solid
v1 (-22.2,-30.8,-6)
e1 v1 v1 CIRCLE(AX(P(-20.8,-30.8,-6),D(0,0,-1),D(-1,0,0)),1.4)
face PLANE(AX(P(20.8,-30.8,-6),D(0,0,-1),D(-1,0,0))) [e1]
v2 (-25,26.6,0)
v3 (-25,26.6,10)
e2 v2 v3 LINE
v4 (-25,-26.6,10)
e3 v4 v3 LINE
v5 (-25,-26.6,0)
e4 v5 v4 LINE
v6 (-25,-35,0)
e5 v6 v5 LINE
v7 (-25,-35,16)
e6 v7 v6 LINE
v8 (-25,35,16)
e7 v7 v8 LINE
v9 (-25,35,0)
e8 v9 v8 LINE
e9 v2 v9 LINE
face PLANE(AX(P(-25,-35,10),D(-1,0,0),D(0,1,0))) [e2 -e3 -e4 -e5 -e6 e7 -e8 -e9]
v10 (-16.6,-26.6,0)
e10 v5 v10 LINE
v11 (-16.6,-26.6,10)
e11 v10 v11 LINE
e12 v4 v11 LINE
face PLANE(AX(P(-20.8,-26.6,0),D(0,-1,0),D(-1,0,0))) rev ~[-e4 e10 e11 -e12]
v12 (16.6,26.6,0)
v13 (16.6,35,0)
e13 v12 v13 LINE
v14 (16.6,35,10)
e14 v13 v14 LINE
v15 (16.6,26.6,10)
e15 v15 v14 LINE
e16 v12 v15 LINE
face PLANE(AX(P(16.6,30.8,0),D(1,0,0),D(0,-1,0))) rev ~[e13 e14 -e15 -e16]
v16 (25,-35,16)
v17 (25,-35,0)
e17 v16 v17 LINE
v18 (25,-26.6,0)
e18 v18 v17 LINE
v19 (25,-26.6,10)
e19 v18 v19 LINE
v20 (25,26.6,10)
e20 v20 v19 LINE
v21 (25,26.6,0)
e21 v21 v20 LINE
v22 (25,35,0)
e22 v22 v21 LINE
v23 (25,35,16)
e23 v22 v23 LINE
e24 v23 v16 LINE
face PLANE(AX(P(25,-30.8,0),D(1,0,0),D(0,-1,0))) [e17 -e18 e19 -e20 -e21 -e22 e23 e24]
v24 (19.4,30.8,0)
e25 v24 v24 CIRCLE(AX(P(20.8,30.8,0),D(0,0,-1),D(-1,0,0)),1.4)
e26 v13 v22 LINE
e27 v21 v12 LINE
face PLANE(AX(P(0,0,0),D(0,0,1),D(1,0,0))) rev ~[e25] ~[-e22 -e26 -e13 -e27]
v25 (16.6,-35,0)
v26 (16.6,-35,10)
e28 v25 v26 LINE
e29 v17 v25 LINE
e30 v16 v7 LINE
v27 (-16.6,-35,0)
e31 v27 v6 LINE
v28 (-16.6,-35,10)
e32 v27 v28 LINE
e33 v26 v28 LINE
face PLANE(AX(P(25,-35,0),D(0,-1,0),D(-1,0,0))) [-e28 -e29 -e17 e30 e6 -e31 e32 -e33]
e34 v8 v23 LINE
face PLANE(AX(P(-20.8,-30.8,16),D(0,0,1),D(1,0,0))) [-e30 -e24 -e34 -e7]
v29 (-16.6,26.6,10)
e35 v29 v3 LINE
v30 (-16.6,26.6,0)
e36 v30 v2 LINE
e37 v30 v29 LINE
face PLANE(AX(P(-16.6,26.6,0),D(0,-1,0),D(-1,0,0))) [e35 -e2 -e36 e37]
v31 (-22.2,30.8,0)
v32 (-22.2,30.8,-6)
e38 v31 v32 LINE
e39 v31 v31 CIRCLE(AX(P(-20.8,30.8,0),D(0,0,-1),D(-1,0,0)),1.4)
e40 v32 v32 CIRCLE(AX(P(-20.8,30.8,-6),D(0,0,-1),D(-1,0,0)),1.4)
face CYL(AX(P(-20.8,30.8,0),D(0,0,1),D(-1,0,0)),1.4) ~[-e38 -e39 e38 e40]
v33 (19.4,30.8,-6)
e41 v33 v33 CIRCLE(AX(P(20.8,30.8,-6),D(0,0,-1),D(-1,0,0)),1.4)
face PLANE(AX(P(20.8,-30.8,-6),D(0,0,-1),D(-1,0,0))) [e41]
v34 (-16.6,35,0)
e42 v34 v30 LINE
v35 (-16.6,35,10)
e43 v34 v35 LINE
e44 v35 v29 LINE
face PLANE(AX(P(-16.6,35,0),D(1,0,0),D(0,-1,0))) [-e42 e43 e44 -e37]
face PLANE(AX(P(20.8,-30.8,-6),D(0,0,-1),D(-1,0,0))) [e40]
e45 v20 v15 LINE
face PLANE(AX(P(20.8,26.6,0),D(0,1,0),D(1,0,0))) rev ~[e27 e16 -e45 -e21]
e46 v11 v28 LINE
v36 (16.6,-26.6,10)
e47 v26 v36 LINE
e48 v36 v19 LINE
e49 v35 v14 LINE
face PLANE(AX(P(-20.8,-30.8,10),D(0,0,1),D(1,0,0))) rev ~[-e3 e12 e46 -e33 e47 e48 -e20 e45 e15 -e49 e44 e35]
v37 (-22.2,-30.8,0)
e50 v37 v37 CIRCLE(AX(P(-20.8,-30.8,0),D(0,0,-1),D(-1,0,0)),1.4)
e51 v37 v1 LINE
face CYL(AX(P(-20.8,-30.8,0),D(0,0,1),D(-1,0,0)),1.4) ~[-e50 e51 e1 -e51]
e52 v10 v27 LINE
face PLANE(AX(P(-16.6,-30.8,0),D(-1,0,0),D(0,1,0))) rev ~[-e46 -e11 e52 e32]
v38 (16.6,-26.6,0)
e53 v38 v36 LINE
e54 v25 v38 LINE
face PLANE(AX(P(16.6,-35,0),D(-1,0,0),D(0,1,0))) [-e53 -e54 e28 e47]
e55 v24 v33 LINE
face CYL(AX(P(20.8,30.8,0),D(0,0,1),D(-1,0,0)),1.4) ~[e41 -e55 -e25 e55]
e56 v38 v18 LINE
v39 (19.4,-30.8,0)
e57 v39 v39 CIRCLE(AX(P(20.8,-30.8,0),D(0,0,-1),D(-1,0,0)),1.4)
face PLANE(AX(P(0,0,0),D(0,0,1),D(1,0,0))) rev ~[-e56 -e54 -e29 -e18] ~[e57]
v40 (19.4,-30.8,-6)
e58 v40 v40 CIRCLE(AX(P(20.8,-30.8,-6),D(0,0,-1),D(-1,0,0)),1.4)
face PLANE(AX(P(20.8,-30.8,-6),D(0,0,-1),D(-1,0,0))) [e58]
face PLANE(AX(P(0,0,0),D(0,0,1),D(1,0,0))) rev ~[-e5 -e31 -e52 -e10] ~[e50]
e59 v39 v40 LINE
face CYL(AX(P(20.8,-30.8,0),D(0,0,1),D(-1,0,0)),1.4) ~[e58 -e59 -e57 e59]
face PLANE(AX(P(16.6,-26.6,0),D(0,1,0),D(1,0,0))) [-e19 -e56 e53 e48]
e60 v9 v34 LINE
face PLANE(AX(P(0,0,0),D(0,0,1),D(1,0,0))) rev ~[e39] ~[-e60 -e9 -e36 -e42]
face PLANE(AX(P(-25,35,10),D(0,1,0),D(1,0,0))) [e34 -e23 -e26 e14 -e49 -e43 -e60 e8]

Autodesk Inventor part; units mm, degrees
ref_plane "YZ Plane" through (0, 0, 0) normal (1, 0, 0) x (0, 1, 0)
ref_plane "XZ Plane" through (0, 0, 0) normal (0, 1, 0) x (-1, 0, 0)
ref_plane "XY Plane" through (0, 0, 0) normal (0, 0, 1) x (1, 0, 0)
sketch "스케치1" plane through (0, 0, 0) normal (0, 0, 1) x (1, 0, 0)
  circle A0 centre (20.8, -30.8) radius 1.6 projected
  circle A1 centre (20.8, 30.8) radius 1.6 projected
  circle A2 centre (-20.8, -30.8) radius 1.6 projected
  circle A3 centre (-20.8, 30.8) radius 1.6 projected
  line L0 (25, 35) -> (25, -35) projected
  line L1 (-25, 35) -> (25, 35) projected
  line L2 (-25, -35) -> (-25, 35) projected
  line L3 (25, -35) -> (-25, -35) projected
  line L4 (3.4609, -14.6309) -> (3.4609, -15.4416) projected
  line L5 (3.4609, -15.4416) -> (-1.9174, -15.4416) projected
  line L6 (-1.9174, -15.4416) -> (-1.9174, -17.4882) projected
  line L7 (-1.9174, -17.4882) -> (-2.6391, -17.4882) projected
  line L8 (-2.6391, -17.4882) -> (-2.6391, -12.5844) projected
  line L9 (-2.6391, -12.5844) -> (-1.9174, -12.5844) projected
  line L10 (-1.9174, -12.5844) -> (-1.9174, -14.6309) projected
  line L11 (-1.9174, -14.6309) -> (3.4609, -14.6309) projected
  spline S0 degree 3 poles (3.5894, -6.7069) (3.5894, -7.2061) (3.5079, -7.4974) (3.4054, -7.7829) (3.3472, -7.9038) (3.2038, -8.1322) (3.1203, -8.2371) (3.0259, -8.3332) knots 0 0 0 0 0.149781 0.149781 0.269685 0.269685 0.389491 0.389491 0.389491 0.389491 projected
  spline S1 degree 3 poles (3.0259, -8.3332) (2.8735, -8.4928) (2.696, -8.6163) (2.4131, -8.7398) (2.2257, -8.8143) (1.6618, -8.9024) (1.4109, -8.9165) (1.1672, -8.9165) knots 0 0 0 0 0.066182 0.066182 0.092608 0.092608 0.112316 0.112316 0.112316 0.112316 projected
  line L12 (1.1672, -8.9165) -> (-2.6391, -8.9165) projected
  line L13 (-2.6391, -8.9165) -> (-2.6391, -8.1058) projected
  line L14 (-2.6391, -8.1058) -> (1.187, -8.1058) projected
  spline S2 degree 3 poles (1.187, -8.1058) (1.576, -8.1058) (1.7854, -8.0698) (2.0673, -8.0159) (2.2402, -7.948) (2.3981, -7.8438) knots 0 0 0 0 0.116713 0.116713 0.342312 0.342312 0.342312 0.342312 projected
  spline S3 degree 3 poles (2.3981, -7.8438) (2.5057, -7.7728) (2.5951, -7.6834) (2.7648, -7.4325) (2.8129, -7.284) (2.8802, -7.0309) (2.8973, -6.8687) (2.8973, -6.7069) knots 0 0 0 0 0.038677 0.038677 0.09087 0.09087 0.175293 0.175293 0.175293 0.175293 projected
  spline S4 degree 3 poles (2.8973, -6.7069) (2.8973, -6.4866) (2.8694, -6.2573) (2.7554, -5.9796) (2.7065, -5.8804) (2.5606, -5.7003) (2.4845, -5.6319) (2.3981, -5.5749) knots 0 0 0 0 0.066079 0.066079 0.089916 0.089916 0.109159 0.109159 0.109159 0.109159 projected
  spline S5 degree 3 poles (2.3981, -5.5749) (2.2456, -5.4743) (2.0787, -5.4078) (1.787, -5.3484) (1.5677, -5.3129) (1.1672, -5.3129) knots 0 0 0 0 0.054791 0.054791 0.089305 0.089305 0.089305 0.089305 projected
  line L15 (1.1672, -5.3129) -> (-2.6391, -5.3129) projected
  line L16 (-2.6391, -5.3129) -> (-2.6391, -4.5022) projected
  line L17 (-2.6391, -4.5022) -> (1.1672, -4.5022) projected
  spline S6 degree 3 poles (1.1672, -4.5022) (1.7467, -4.5022) (2.0771, -4.578) (2.4094, -4.6758) (2.5476, -4.7346) (2.8054, -4.8878) (2.9214, -4.9794) (3.0259, -5.0855) knots 0 0 0 0 0.173857 0.173857 0.308173 0.308173 0.440658 0.440658 0.440658 0.440658 projected
  spline S7 degree 3 poles (3.0259, -5.0855) (3.188, -5.2476) (3.3119, -5.4359) (3.468, -5.8026) (3.513, -5.9645) (3.576, -6.3201) (3.5894, -6.5148) (3.5894, -6.7069) knots 0 0 0 0 0.068773 0.068773 0.119566 0.119566 0.177287 0.177287 0.177287 0.177287 projected
  line L18 (3.4609, 6.6696) -> (2.838, 6.6696) projected
  line L19 (2.838, 6.6696) -> (2.838, 7.4457) projected
  line L20 (2.838, 7.4457) -> (-2.0163, 7.4457) projected
  line L21 (-2.0163, 7.4457) -> (-2.0163, 6.6696) projected
  line L22 (-2.0163, 6.6696) -> (-2.6391, 6.6696) projected
  line L23 (-2.6391, 6.6696) -> (-2.6391, 9.0325) projected
  line L24 (-2.6391, 9.0325) -> (-2.0163, 9.0325) projected
  line L25 (-2.0163, 9.0325) -> (-2.0163, 8.2564) projected
  line L26 (-2.0163, 8.2564) -> (2.838, 8.2564) projected
  line L27 (2.838, 8.2564) -> (2.838, 9.0325) projected
  line L28 (2.838, 9.0325) -> (3.4609, 9.0325) projected
  line L29 (3.4609, 9.0325) -> (3.4609, 6.6696) projected
  spline S8 degree 3 poles (3.5696, 11.4498) (3.5696, 11.0968) (3.5385, 10.9252) (3.4927, 10.6907) (3.4451, 10.5225) (3.3917, 10.3623) knots 0 0 0 0 0.105897 0.105897 0.361981 0.361981 0.361981 0.361981 projected
  spline S9 degree 3 poles (3.3917, 10.3623) (3.3122, 10.1089) (3.2476, 9.9765) (3.1649, 9.8065) (3.1044, 9.6784) (3.0456, 9.5516) knots 0 0 0 0 0.079656 0.079656 0.305782 0.305782 0.305782 0.305782 projected
  line L30 (3.0456, 9.5516) -> (2.0767, 9.5516) projected
  line L31 (2.0767, 9.5516) -> (2.0767, 9.6109) projected
  spline S10 degree 3 poles (2.0767, 9.6109) (2.1724, 9.7066) (2.276, 9.8355) (2.4013, 9.9909) (2.4887, 10.1245) (2.5661, 10.2584) knots 0 0 0 0 0.0406 0.0406 0.180817 0.180817 0.180817 0.180817 projected
  spline S11 degree 3 poles (2.5661, 10.2584) (2.6936, 10.4889) (2.7578, 10.7089) (2.8422, 11.001) (2.8677, 11.2201) (2.8677, 11.4399) knots 0 0 0 0 0.079015 0.079015 0.285121 0.285121 0.285121 0.285121 projected
  spline S12 degree 3 poles (2.8677, 11.4399) (2.8677, 11.6791) (2.8234, 11.9096) (2.6905, 12.2276) (2.6304, 12.347) (2.4562, 12.5833) (2.363, 12.6815) (2.2596, 12.7696) knots 0 0 0 0 0.071758 0.071758 0.103413 0.103413 0.130661 0.130661 0.130661 0.130661 projected
  spline S13 degree 3 poles (2.2596, 12.7696) (2.0598, 12.9378) (1.8287, 13.0612) (1.3654, 13.2321) (1.0093, 13.3332) (0.4158, 13.3332) knots 0 0 0 0 0.078349 0.078349 0.148171 0.148171 0.148171 0.148171 projected
  spline S14 degree 3 poles (0.4158, 13.3332) (-0.1058, 13.3332) (-0.4504, 13.2487) (-0.927, 13.104) (-1.2002, 12.9774) (-1.428, 12.7894) knots 0 0 0 0 0.156476 0.156476 0.384161 0.384161 0.384161 0.384161 projected
  spline S15 degree 3 poles (-1.428, 12.7894) (-1.6106, 12.6333) (-1.7595, 12.4499) (-1.9192, 12.1338) (-1.9723, 12.0047) (-2.0407, 11.7153) (-2.0558, 11.5784) (-2.0558, 11.4399) knots 0 0 0 0 0.072073 0.072073 0.106242 0.106242 0.13604 0.13604 0.13604 0.13604 projected
  spline S16 degree 3 poles (-2.0558, 11.4399) (-2.0558, 11.0983) (-1.9995, 10.8945) (-1.922, 10.6336) (-1.853, 10.4636) (-1.7642, 10.3029) knots 0 0 0 0 0.102473 0.102473 0.315019 0.315019 0.315019 0.315019 projected
  spline S17 degree 3 poles (-1.7642, 10.3029) (-1.6346, 10.0678) (-1.5778, 9.9965) (-1.419, 9.8036) (-1.3331, 9.7017) (-1.255, 9.6158) knots 0 0 0 0 0.080527 0.080527 0.149615 0.149615 0.149615 0.149615 projected
  line L32 (-1.255, 9.6158) -> (-1.255, 9.5516) projected
  line L33 (-1.255, 9.5516) -> (-2.2338, 9.5516) projected
  spline S18 degree 3 poles (-2.2338, 9.5516) (-2.3342, 9.7386) (-2.4001, 9.8833) (-2.4926, 10.0908) (-2.5452, 10.2254) (-2.5897, 10.3623) knots 0 0 0 0 0.063697 0.063697 0.17369 0.17369 0.17369 0.17369 projected
  spline S19 degree 3 poles (-2.5897, 10.3623) (-2.6578, 10.586) (-2.6908, 10.783) (-2.7347, 11.0489) (-2.7479, 11.2426) (-2.7479, 11.4349) knots 0 0 0 0 0.070178 0.070178 0.245229 0.245229 0.245229 0.245229 projected
  spline S20 degree 3 poles (-2.7479, 11.4349) (-2.7479, 11.8102) (-2.6884, 12.1794) (-2.4851, 12.6671) (-2.4001, 12.8345) (-2.1695, 13.1574) (-2.0458, 13.2939) (-1.9075, 13.4172) knots 0 0 0 0 0.112583 0.112583 0.158498 0.158498 0.198702 0.198702 0.198702 0.198702 projected
  spline S21 degree 3 poles (-1.9075, 13.4172) (-1.6331, 13.6594) (-1.3194, 13.8381) (-0.7236, 14.0548) (-0.2884, 14.1785) (0.4158, 14.1785) knots 0 0 0 0 0.109811 0.109811 0.190197 0.190197 0.190197 0.190197 projected
  spline S22 degree 3 poles (0.4158, 14.1785) (1.1016, 14.1785) (1.5387, 14.0598) (1.9684, 13.9147) (2.1514, 13.8354) (2.4841, 13.645) (2.6333, 13.5376) (2.7688, 13.4123) knots 0 0 0 0 0.205724 0.205724 0.366116 0.366116 0.515054 0.515054 0.515054 0.515054 projected
  spline S23 degree 3 poles (2.7688, 13.4123) (3.001, 13.2001) (3.1844, 12.9521) (3.4019, 12.4833) (3.465, 12.2871) (3.55, 11.8776) (3.5696, 11.6642) (3.5696, 11.4498) knots 0 0 0 0 0.094355 0.094355 0.155041 0.155041 0.218881 0.218881 0.218881 0.218881 projected
  line L34 (3.4609, 0.9453) -> (0.8063, 3.1154) projected
  spline S24 degree 3 poles (0.8063, 3.1154) (0.7091, 2.8546) (0.5712, 2.6157) (0.2499, 2.2703) (0.0734, 2.1207) (-0.2854, 1.9573) (-0.4142, 1.9172) (-0.6904, 1.8622) (-0.8369, 1.8499) (-0.9831, 1.8499) knots 0 0 0 0 0.083518 0.083518 0.141507 0.141507 0.171807 0.171807 0.204564 0.204564 0.204564 0.204564 projected
  spline S25 degree 3 poles (-0.9831, 1.8499) (-1.2, 1.8499) (-1.421, 1.8784) (-1.7689, 2.0145) (-1.898, 2.0959) (-2.134, 2.2962) (-2.234, 2.4122) (-2.3178, 2.542) knots 0 0 0 0 0.065064 0.065064 0.111971 0.111971 0.158744 0.158744 0.158744 0.158744 projected
  spline S26 degree 3 poles (-2.3178, 2.542) (-2.4457, 2.7399) (-2.5352, 2.9539) (-2.6309, 3.4845) (-2.6391, 3.7907) (-2.6391, 4.0942) knots 0 0 0 0 0.070674 0.070674 0.161725 0.161725 0.161725 0.161725 projected
  line L35 (-2.6391, 4.0942) -> (-2.6391, 5.6661) projected
  line L36 (-2.6391, 5.6661) -> (3.4609, 5.6661) projected
  line L37 (3.4609, 5.6661) -> (3.4609, 4.8554) projected
  line L38 (3.4609, 4.8554) -> (1.0337, 4.8554) projected
  line L39 (1.0337, 4.8554) -> (1.0337, 3.9261) projected
  line L40 (1.0337, 3.9261) -> (3.4609, 1.9982) projected
  line L41 (3.4609, 1.9982) -> (3.4609, 0.9453) projected
  spline S27 degree 3 poles (3.5696, -1.9218) (3.5696, -2.2748) (3.5385, -2.4464) (3.4927, -2.6809) (3.4451, -2.849) (3.3917, -3.0093) knots 0 0 0 0 0.105897 0.105897 0.361981 0.361981 0.361981 0.361981 projected
  spline S28 degree 3 poles (3.3917, -3.0093) (3.3122, -3.2627) (3.2476, -3.3951) (3.1649, -3.5651) (3.1044, -3.6932) (3.0456, -3.82) knots 0 0 0 0 0.079656 0.079656 0.305782 0.305782 0.305782 0.305782 projected
  line L42 (3.0456, -3.82) -> (2.0767, -3.82) projected
  line L43 (2.0767, -3.82) -> (2.0767, -3.7607) projected
  spline S29 degree 3 poles (2.0767, -3.7607) (2.1724, -3.665) (2.276, -3.5361) (2.4013, -3.3806) (2.4887, -3.2471) (2.5661, -3.1131) knots 0 0 0 0 0.0406 0.0406 0.180817 0.180817 0.180817 0.180817 projected
  spline S30 degree 3 poles (2.5661, -3.1131) (2.6936, -2.8826) (2.7578, -2.6627) (2.8422, -2.3706) (2.8677, -2.1514) (2.8677, -1.9317) knots 0 0 0 0 0.079015 0.079015 0.285121 0.285121 0.285121 0.285121 projected
  spline S31 degree 3 poles (2.8677, -1.9317) (2.8677, -1.6925) (2.8234, -1.462) (2.6905, -1.144) (2.6304, -1.0246) (2.4562, -0.7882) (2.363, -0.6901) (2.2596, -0.6019) knots 0 0 0 0 0.071758 0.071758 0.103413 0.103413 0.130661 0.130661 0.130661 0.130661 projected
  spline S32 degree 3 poles (2.2596, -0.6019) (2.0598, -0.4338) (1.8287, -0.3103) (1.3654, -0.1394) (1.0093, -0.0384) (0.4158, -0.0384) knots 0 0 0 0 0.078349 0.078349 0.148171 0.148171 0.148171 0.148171 projected
  spline S33 degree 3 poles (0.4158, -0.0384) (-0.1058, -0.0384) (-0.4504, -0.1228) (-0.927, -0.2675) (-1.2002, -0.3941) (-1.428, -0.5822) knots 0 0 0 0 0.156476 0.156476 0.384161 0.384161 0.384161 0.384161 projected
  spline S34 degree 3 poles (-1.428, -0.5822) (-1.6106, -0.7383) (-1.7595, -0.9217) (-1.9192, -1.2377) (-1.9723, -1.3669) (-2.0407, -1.6563) (-2.0558, -1.7931) (-2.0558, -1.9317) knots 0 0 0 0 0.072073 0.072073 0.106242 0.106242 0.13604 0.13604 0.13604 0.13604 projected
  spline S35 degree 3 poles (-2.0558, -1.9317) (-2.0558, -2.2732) (-1.9995, -2.4771) (-1.922, -2.7379) (-1.853, -2.908) (-1.7642, -3.0686) knots 0 0 0 0 0.102473 0.102473 0.315019 0.315019 0.315019 0.315019 projected
  spline S36 degree 3 poles (-1.7642, -3.0686) (-1.6346, -3.3037) (-1.5778, -3.3751) (-1.419, -3.568) (-1.3331, -3.6699) (-1.255, -3.7557) knots 0 0 0 0 0.080527 0.080527 0.149615 0.149615 0.149615 0.149615 projected
  line L44 (-1.255, -3.7557) -> (-1.255, -3.82) projected
  line L45 (-1.255, -3.82) -> (-2.2338, -3.82) projected
  spline S37 degree 3 poles (-2.2338, -3.82) (-2.3342, -3.6329) (-2.4001, -3.4883) (-2.4926, -3.2807) (-2.5452, -3.1462) (-2.5897, -3.0093) knots 0 0 0 0 0.063697 0.063697 0.17369 0.17369 0.17369 0.17369 projected
  spline S38 degree 3 poles (-2.5897, -3.0093) (-2.6578, -2.7855) (-2.6908, -2.5886) (-2.7347, -2.3227) (-2.7479, -2.129) (-2.7479, -1.9366) knots 0 0 0 0 0.070178 0.070178 0.245229 0.245229 0.245229 0.245229 projected
  spline S39 degree 3 poles (-2.7479, -1.9366) (-2.7479, -1.5613) (-2.6884, -1.1922) (-2.4851, -0.7045) (-2.4001, -0.5371) (-2.1695, -0.2142) (-2.0458, -0.0776) (-1.9075, 0.0456) knots 0 0 0 0 0.112583 0.112583 0.158498 0.158498 0.198702 0.198702 0.198702 0.198702 projected
  spline S40 degree 3 poles (-1.9075, 0.0456) (-1.6331, 0.2878) (-1.3194, 0.4666) (-0.7236, 0.6832) (-0.2884, 0.8069) (0.4158, 0.8069) knots 0 0 0 0 0.109811 0.109811 0.190197 0.190197 0.190197 0.190197 projected
  spline S41 degree 3 poles (0.4158, 0.8069) (1.1016, 0.8069) (1.5387, 0.6882) (1.9684, 0.5432) (2.1514, 0.4638) (2.4841, 0.2734) (2.6333, 0.166) (2.7688, 0.0407) knots 0 0 0 0 0.205724 0.205724 0.366116 0.366116 0.515054 0.515054 0.515054 0.515054 projected
  spline S42 degree 3 poles (2.7688, 0.0407) (3.001, -0.1714) (3.1844, -0.4194) (3.4019, -0.8882) (3.465, -1.0845) (3.55, -1.494) (3.5696, -1.7074) (3.5696, -1.9218) knots 0 0 0 0 0.094355 0.094355 0.155041 0.155041 0.218881 0.218881 0.218881 0.218881 projected
  line L46 (3.4609, -12.2038) -> (2.838, -12.2038) projected
  line L47 (2.838, -12.2038) -> (2.838, -11.4277) projected
  line L48 (2.838, -11.4277) -> (-2.0163, -11.4277) projected
  line L49 (-2.0163, -11.4277) -> (-2.0163, -12.2038) projected
  line L50 (-2.0163, -12.2038) -> (-2.6391, -12.2038) projected
  line L51 (-2.6391, -12.2038) -> (-2.6391, -9.8409) projected
  line L52 (-2.6391, -9.8409) -> (-2.0163, -9.8409) projected
  line L53 (-2.0163, -9.8409) -> (-2.0163, -10.617) projected
  line L54 (-2.0163, -10.617) -> (2.838, -10.617) projected
  line L55 (2.838, -10.617) -> (2.838, -9.8409) projected
  line L56 (2.838, -9.8409) -> (3.4609, -9.8409) projected
  line L57 (3.4609, -9.8409) -> (3.4609, -12.2038) projected
  line L58 (-25, -35) -> (25, -35)
  line L59 (25, -35) -> (25, 35)
  line L60 (25, 35) -> (-25, 35)
  line L61 (-25, 35) -> (-25, -35)
  circle A4 centre (-20.8, 30.8) radius 4.2
  circle A5 centre (-20.8, -30.8) radius 4.2
  circle A6 centre (20.8, -30.8) radius 4.2
  circle A7 centre (20.8, 30.8) radius 4.2
  line L62 (-16.6, 26.6) -> (-25, 26.6)
  line L63 (-25, 26.6) -> (-25, 35)
  line L64 (-25, 35) -> (-16.6, 35)
  line L65 (-16.6, 35) -> (-16.6, 26.6)
  line L66 (-16.6, -26.6) -> (-25, -26.6)
  line L67 (-25, -26.6) -> (-25, -35)
  line L68 (-25, -35) -> (-16.6, -35)
  line L69 (-16.6, -35) -> (-16.6, -26.6)
  line L70 (16.6, -26.6) -> (25, -26.6)
  line L71 (25, -26.6) -> (25, -35)
  line L72 (25, -35) -> (16.6, -35)
  line L73 (16.6, -35) -> (16.6, -26.6)
  line L74 (16.6, 26.6) -> (25, 26.6)
  line L75 (25, 26.6) -> (25, 35)
  line L76 (25, 35) -> (16.6, 35)
  line L77 (16.6, 35) -> (16.6, 26.6)
  point P0 (0, 0)
  point P1 (-16.6, -30.8)
  point P2 (-20.8, -35)
  point P3 (-20.8, -26.6)
  point P4 (-25, -30.8)
  point P5 (16.6, -30.8)
  point P6 (20.8, -35)
  point P7 (20.8, -26.6)
  point P8 (25, -30.8)
  point P9 (-16.6, 30.8)
  point P10 (-20.8, 35)
  point P11 (-20.8, 26.6)
  point P12 (-25, 30.8)
  point P13 (16.6, 30.8)
  point P14 (20.8, 35)
  point P15 (20.8, 26.6)
  point P16 (25, 30.8)
extrude "돌출1" add sketch "스케치1" along normal blind 10 contours A0 | A1 | A2 | A3 | L0 A7 L1 | A7 | L0 L74 A7 | A7 L77 L1 | L74 L77 A7 | L0 A6 L70 | L65 A4 L1 | A6 | L0 L3 A6 | A6 L73 L70 | A4 L2 L1 | A4 | L65 L62 A4 | L3 L73 A6 | A4 L62 L2 | L3 A5 L69 | L66 A5 L2 | L3 L2 A5 | A5 | A5 L66 L69
sketch "스케치2" plane through (-20.8, -30.8, 10) normal (0, 0, 1) x (1, 0, 0)
  circle A0 centre (41.6, 0) radius 1.6 projected
  circle A1 centre (41.6, 61.6) radius 1.6 projected
  circle A2 centre (0, 0) radius 1.6 projected
  circle A3 centre (0, 61.6) radius 1.6 projected
  line L0 (45.8, 65.8) -> (45.8, -4.2) projected
  line L1 (-4.2, 65.8) -> (45.8, 65.8) projected
  line L2 (-4.2, -4.2) -> (-4.2, 65.8) projected
  line L3 (45.8, -4.2) -> (-4.2, -4.2) projected
  line L4 (24.2609, 16.1691) -> (24.2609, 15.3584) projected
  line L5 (24.2609, 15.3584) -> (18.8826, 15.3584) projected
  line L6 (18.8826, 15.3584) -> (18.8826, 13.3118) projected
  line L7 (18.8826, 13.3118) -> (18.1609, 13.3118) projected
  line L8 (18.1609, 13.3118) -> (18.1609, 18.2156) projected
  line L9 (18.1609, 18.2156) -> (18.8826, 18.2156) projected
  line L10 (18.8826, 18.2156) -> (18.8826, 16.1691) projected
  line L11 (18.8826, 16.1691) -> (24.2609, 16.1691) projected
  spline S0 degree 3 poles (24.3894, 24.0931) (24.3894, 23.5939) (24.3079, 23.3026) (24.2054, 23.0171) (24.1472, 22.8962) (24.0038, 22.6678) (23.9203, 22.5629) (23.8259, 22.4668) knots 0 0 0 0 0.149781 0.149781 0.269685 0.269685 0.389491 0.389491 0.389491 0.389491 projected
  spline S1 degree 3 poles (23.8259, 22.4668) (23.6735, 22.3072) (23.496, 22.1837) (23.2131, 22.0602) (23.0257, 21.9857) (22.4618, 21.8976) (22.2109, 21.8835) (21.9672, 21.8835) knots 0 0 0 0 0.066182 0.066182 0.092608 0.092608 0.112316 0.112316 0.112316 0.112316 projected
  line L12 (21.9672, 21.8835) -> (18.1609, 21.8835) projected
  line L13 (18.1609, 21.8835) -> (18.1609, 22.6942) projected
  line L14 (18.1609, 22.6942) -> (21.987, 22.6942) projected
  spline S2 degree 3 poles (21.987, 22.6942) (22.376, 22.6942) (22.5854, 22.7302) (22.8673, 22.7841) (23.0402, 22.852) (23.1981, 22.9562) knots 0 0 0 0 0.116713 0.116713 0.342312 0.342312 0.342312 0.342312 projected
  spline S3 degree 3 poles (23.1981, 22.9562) (23.3057, 23.0272) (23.3951, 23.1166) (23.5648, 23.3675) (23.6129, 23.516) (23.6802, 23.7691) (23.6973, 23.9313) (23.6973, 24.0931) knots 0 0 0 0 0.038677 0.038677 0.09087 0.09087 0.175293 0.175293 0.175293 0.175293 projected
  spline S4 degree 3 poles (23.6973, 24.0931) (23.6973, 24.3134) (23.6694, 24.5427) (23.5554, 24.8204) (23.5065, 24.9196) (23.3606, 25.0997) (23.2845, 25.1681) (23.1981, 25.2251) knots 0 0 0 0 0.066079 0.066079 0.089916 0.089916 0.109159 0.109159 0.109159 0.109159 projected
  spline S5 degree 3 poles (23.1981, 25.2251) (23.0456, 25.3257) (22.8787, 25.3922) (22.587, 25.4516) (22.3677, 25.4871) (21.9672, 25.4871) knots 0 0 0 0 0.054791 0.054791 0.089305 0.089305 0.089305 0.089305 projected
  line L15 (21.9672, 25.4871) -> (18.1609, 25.4871) projected
  line L16 (18.1609, 25.4871) -> (18.1609, 26.2978) projected
  line L17 (18.1609, 26.2978) -> (21.9672, 26.2978) projected
  spline S6 degree 3 poles (21.9672, 26.2978) (22.5467, 26.2978) (22.8771, 26.222) (23.2094, 26.1242) (23.3476, 26.0654) (23.6054, 25.9122) (23.7214, 25.8206) (23.8259, 25.7145) knots 0 0 0 0 0.173857 0.173857 0.308173 0.308173 0.440658 0.440658 0.440658 0.440658 projected
  spline S7 degree 3 poles (23.8259, 25.7145) (23.988, 25.5524) (24.1119, 25.3641) (24.268, 24.9974) (24.313, 24.8355) (24.376, 24.4799) (24.3894, 24.2852) (24.3894, 24.0931) knots 0 0 0 0 0.068773 0.068773 0.119566 0.119566 0.177287 0.177287 0.177287 0.177287 projected
  line L18 (24.2609, 37.4696) -> (23.638, 37.4696) projected
  line L19 (23.638, 37.4696) -> (23.638, 38.2457) projected
  line L20 (23.638, 38.2457) -> (18.7837, 38.2457) projected
  line L21 (18.7837, 38.2457) -> (18.7837, 37.4696) projected
  line L22 (18.7837, 37.4696) -> (18.1609, 37.4696) projected
  line L23 (18.1609, 37.4696) -> (18.1609, 39.8325) projected
  line L24 (18.1609, 39.8325) -> (18.7837, 39.8325) projected
  line L25 (18.7837, 39.8325) -> (18.7837, 39.0564) projected
  line L26 (18.7837, 39.0564) -> (23.638, 39.0564) projected
  line L27 (23.638, 39.0564) -> (23.638, 39.8325) projected
  line L28 (23.638, 39.8325) -> (24.2609, 39.8325) projected
  line L29 (24.2609, 39.8325) -> (24.2609, 37.4696) projected
  spline S8 degree 3 poles (24.3696, 42.2498) (24.3696, 41.8968) (24.3385, 41.7252) (24.2927, 41.4907) (24.2451, 41.3225) (24.1917, 41.1623) knots 0 0 0 0 0.105897 0.105897 0.361981 0.361981 0.361981 0.361981 projected
  spline S9 degree 3 poles (24.1917, 41.1623) (24.1122, 40.9089) (24.0476, 40.7765) (23.9649, 40.6065) (23.9044, 40.4784) (23.8456, 40.3516) knots 0 0 0 0 0.079656 0.079656 0.305782 0.305782 0.305782 0.305782 projected
  line L30 (23.8456, 40.3516) -> (22.8767, 40.3516) projected
  line L31 (22.8767, 40.3516) -> (22.8767, 40.4109) projected
  spline S10 degree 3 poles (22.8767, 40.4109) (22.9724, 40.5066) (23.076, 40.6355) (23.2013, 40.7909) (23.2887, 40.9245) (23.3661, 41.0584) knots 0 0 0 0 0.0406 0.0406 0.180817 0.180817 0.180817 0.180817 projected
  spline S11 degree 3 poles (23.3661, 41.0584) (23.4936, 41.2889) (23.5578, 41.5089) (23.6422, 41.801) (23.6677, 42.0201) (23.6677, 42.2399) knots 0 0 0 0 0.079015 0.079015 0.285121 0.285121 0.285121 0.285121 projected
  spline S12 degree 3 poles (23.6677, 42.2399) (23.6677, 42.4791) (23.6234, 42.7096) (23.4905, 43.0276) (23.4304, 43.147) (23.2562, 43.3833) (23.163, 43.4815) (23.0596, 43.5696) knots 0 0 0 0 0.071758 0.071758 0.103413 0.103413 0.130661 0.130661 0.130661 0.130661 projected
  spline S13 degree 3 poles (23.0596, 43.5696) (22.8598, 43.7378) (22.6287, 43.8612) (22.1654, 44.0321) (21.8093, 44.1332) (21.2158, 44.1332) knots 0 0 0 0 0.078349 0.078349 0.148171 0.148171 0.148171 0.148171 projected
  spline S14 degree 3 poles (21.2158, 44.1332) (20.6942, 44.1332) (20.3496, 44.0487) (19.873, 43.904) (19.5998, 43.7774) (19.372, 43.5894) knots 0 0 0 0 0.156476 0.156476 0.384161 0.384161 0.384161 0.384161 projected
  spline S15 degree 3 poles (19.372, 43.5894) (19.1894, 43.4333) (19.0405, 43.2499) (18.8808, 42.9338) (18.8277, 42.8047) (18.7593, 42.5153) (18.7442, 42.3784) (18.7442, 42.2399) knots 0 0 0 0 0.072073 0.072073 0.106242 0.106242 0.13604 0.13604 0.13604 0.13604 projected
  spline S16 degree 3 poles (18.7442, 42.2399) (18.7442, 41.8983) (18.8005, 41.6945) (18.878, 41.4336) (18.947, 41.2636) (19.0358, 41.1029) knots 0 0 0 0 0.102473 0.102473 0.315019 0.315019 0.315019 0.315019 projected
  spline S17 degree 3 poles (19.0358, 41.1029) (19.1654, 40.8678) (19.2222, 40.7965) (19.381, 40.6036) (19.4669, 40.5017) (19.545, 40.4158) knots 0 0 0 0 0.080527 0.080527 0.149615 0.149615 0.149615 0.149615 projected
  line L32 (19.545, 40.4158) -> (19.545, 40.3516) projected
  line L33 (19.545, 40.3516) -> (18.5662, 40.3516) projected
  spline S18 degree 3 poles (18.5662, 40.3516) (18.4658, 40.5386) (18.3999, 40.6833) (18.3074, 40.8908) (18.2548, 41.0254) (18.2103, 41.1623) knots 0 0 0 0 0.063697 0.063697 0.17369 0.17369 0.17369 0.17369 projected
  spline S19 degree 3 poles (18.2103, 41.1623) (18.1422, 41.386) (18.1092, 41.583) (18.0653, 41.8489) (18.0521, 42.0426) (18.0521, 42.2349) knots 0 0 0 0 0.070178 0.070178 0.245229 0.245229 0.245229 0.245229 projected
  spline S20 degree 3 poles (18.0521, 42.2349) (18.0521, 42.6102) (18.1116, 42.9794) (18.3149, 43.4671) (18.3999, 43.6345) (18.6305, 43.9574) (18.7542, 44.0939) (18.8925, 44.2172) knots 0 0 0 0 0.112583 0.112583 0.158498 0.158498 0.198702 0.198702 0.198702 0.198702 projected
  spline S21 degree 3 poles (18.8925, 44.2172) (19.1669, 44.4594) (19.4806, 44.6381) (20.0764, 44.8548) (20.5116, 44.9785) (21.2158, 44.9785) knots 0 0 0 0 0.109811 0.109811 0.190197 0.190197 0.190197 0.190197 projected
  spline S22 degree 3 poles (21.2158, 44.9785) (21.9016, 44.9785) (22.3387, 44.8598) (22.7684, 44.7147) (22.9514, 44.6354) (23.2841, 44.445) (23.4333, 44.3376) (23.5688, 44.2123) knots 0 0 0 0 0.205724 0.205724 0.366116 0.366116 0.515054 0.515054 0.515054 0.515054 projected
  spline S23 degree 3 poles (23.5688, 44.2123) (23.801, 44.0001) (23.9844, 43.7521) (24.2019, 43.2833) (24.265, 43.0871) (24.35, 42.6776) (24.3696, 42.4642) (24.3696, 42.2498) knots 0 0 0 0 0.094355 0.094355 0.155041 0.155041 0.218881 0.218881 0.218881 0.218881 projected
  line L34 (24.2609, 31.7453) -> (21.6063, 33.9154) projected
  spline S24 degree 3 poles (21.6063, 33.9154) (21.5091, 33.6546) (21.3712, 33.4157) (21.0499, 33.0703) (20.8734, 32.9207) (20.5146, 32.7573) (20.3858, 32.7172) (20.1096, 32.6622) (19.9631, 32.6499) (19.8169, 32.6499) knots 0 0 0 0 0.083518 0.083518 0.141507 0.141507 0.171807 0.171807 0.204564 0.204564 0.204564 0.204564 projected
  spline S25 degree 3 poles (19.8169, 32.6499) (19.6, 32.6499) (19.379, 32.6784) (19.0311, 32.8145) (18.902, 32.8959) (18.666, 33.0962) (18.566, 33.2122) (18.4822, 33.342) knots 0 0 0 0 0.065064 0.065064 0.111971 0.111971 0.158744 0.158744 0.158744 0.158744 projected
  spline S26 degree 3 poles (18.4822, 33.342) (18.3543, 33.5399) (18.2648, 33.7539) (18.1691, 34.2845) (18.1609, 34.5907) (18.1609, 34.8942) knots 0 0 0 0 0.070674 0.070674 0.161725 0.161725 0.161725 0.161725 projected
  line L35 (18.1609, 34.8942) -> (18.1609, 36.4661) projected
  line L36 (18.1609, 36.4661) -> (24.2609, 36.4661) projected
  line L37 (24.2609, 36.4661) -> (24.2609, 35.6554) projected
  line L38 (24.2609, 35.6554) -> (21.8337, 35.6554) projected
  line L39 (21.8337, 35.6554) -> (21.8337, 34.7261) projected
  line L40 (21.8337, 34.7261) -> (24.2609, 32.7982) projected
  line L41 (24.2609, 32.7982) -> (24.2609, 31.7453) projected
  spline S27 degree 3 poles (24.3696, 28.8782) (24.3696, 28.5252) (24.3385, 28.3536) (24.2927, 28.1191) (24.2451, 27.951) (24.1917, 27.7907) knots 0 0 0 0 0.105897 0.105897 0.361981 0.361981 0.361981 0.361981 projected
  spline S28 degree 3 poles (24.1917, 27.7907) (24.1122, 27.5373) (24.0476, 27.4049) (23.9649, 27.2349) (23.9044, 27.1068) (23.8456, 26.98) knots 0 0 0 0 0.079656 0.079656 0.305782 0.305782 0.305782 0.305782 projected
  line L42 (23.8456, 26.98) -> (22.8767, 26.98) projected
  line L43 (22.8767, 26.98) -> (22.8767, 27.0393) projected
  spline S29 degree 3 poles (22.8767, 27.0393) (22.9724, 27.135) (23.076, 27.2639) (23.2013, 27.4194) (23.2887, 27.5529) (23.3661, 27.6869) knots 0 0 0 0 0.0406 0.0406 0.180817 0.180817 0.180817 0.180817 projected
  spline S30 degree 3 poles (23.3661, 27.6869) (23.4936, 27.9174) (23.5578, 28.1373) (23.6422, 28.4294) (23.6677, 28.6486) (23.6677, 28.8683) knots 0 0 0 0 0.079015 0.079015 0.285121 0.285121 0.285121 0.285121 projected
  spline S31 degree 3 poles (23.6677, 28.8683) (23.6677, 29.1075) (23.6234, 29.338) (23.4905, 29.656) (23.4304, 29.7754) (23.2562, 30.0118) (23.163, 30.1099) (23.0596, 30.1981) knots 0 0 0 0 0.071758 0.071758 0.103413 0.103413 0.130661 0.130661 0.130661 0.130661 projected
  spline S32 degree 3 poles (23.0596, 30.1981) (22.8598, 30.3662) (22.6287, 30.4897) (22.1654, 30.6606) (21.8093, 30.7616) (21.2158, 30.7616) knots 0 0 0 0 0.078349 0.078349 0.148171 0.148171 0.148171 0.148171 projected
  spline S33 degree 3 poles (21.2158, 30.7616) (20.6942, 30.7616) (20.3496, 30.6772) (19.873, 30.5325) (19.5998, 30.4059) (19.372, 30.2178) knots 0 0 0 0 0.156476 0.156476 0.384161 0.384161 0.384161 0.384161 projected
  spline S34 degree 3 poles (19.372, 30.2178) (19.1894, 30.0617) (19.0405, 29.8783) (18.8808, 29.5623) (18.8277, 29.4331) (18.7593, 29.1437) (18.7442, 29.0069) (18.7442, 28.8683) knots 0 0 0 0 0.072073 0.072073 0.106242 0.106242 0.13604 0.13604 0.13604 0.13604 projected
  spline S35 degree 3 poles (18.7442, 28.8683) (18.7442, 28.5268) (18.8005, 28.3229) (18.878, 28.0621) (18.947, 27.892) (19.0358, 27.7314) knots 0 0 0 0 0.102473 0.102473 0.315019 0.315019 0.315019 0.315019 projected
  spline S36 degree 3 poles (19.0358, 27.7314) (19.1654, 27.4963) (19.2222, 27.4249) (19.381, 27.232) (19.4669, 27.1301) (19.545, 27.0443) knots 0 0 0 0 0.080527 0.080527 0.149615 0.149615 0.149615 0.149615 projected
  line L44 (19.545, 27.0443) -> (19.545, 26.98) projected
  line L45 (19.545, 26.98) -> (18.5662, 26.98) projected
  spline S37 degree 3 poles (18.5662, 26.98) (18.4658, 27.1671) (18.3999, 27.3117) (18.3074, 27.5193) (18.2548, 27.6538) (18.2103, 27.7907) knots 0 0 0 0 0.063697 0.063697 0.17369 0.17369 0.17369 0.17369 projected
  spline S38 degree 3 poles (18.2103, 27.7907) (18.1422, 28.0145) (18.1092, 28.2114) (18.0653, 28.4773) (18.0521, 28.671) (18.0521, 28.8634) knots 0 0 0 0 0.070178 0.070178 0.245229 0.245229 0.245229 0.245229 projected
  spline S39 degree 3 poles (18.0521, 28.8634) (18.0521, 29.2387) (18.1116, 29.6078) (18.3149, 30.0955) (18.3999, 30.2629) (18.6305, 30.5858) (18.7542, 30.7224) (18.8925, 30.8456) knots 0 0 0 0 0.112583 0.112583 0.158498 0.158498 0.198702 0.198702 0.198702 0.198702 projected
  spline S40 degree 3 poles (18.8925, 30.8456) (19.1669, 31.0878) (19.4806, 31.2666) (20.0764, 31.4832) (20.5116, 31.6069) (21.2158, 31.6069) knots 0 0 0 0 0.109811 0.109811 0.190197 0.190197 0.190197 0.190197 projected
  spline S41 degree 3 poles (21.2158, 31.6069) (21.9016, 31.6069) (22.3387, 31.4882) (22.7684, 31.3432) (22.9514, 31.2638) (23.2841, 31.0734) (23.4333, 30.966) (23.5688, 30.8407) knots 0 0 0 0 0.205724 0.205724 0.366116 0.366116 0.515054 0.515054 0.515054 0.515054 projected
  spline S42 degree 3 poles (23.5688, 30.8407) (23.801, 30.6286) (23.9844, 30.3806) (24.2019, 29.9118) (24.265, 29.7155) (24.35, 29.306) (24.3696, 29.0926) (24.3696, 28.8782) knots 0 0 0 0 0.094355 0.094355 0.155041 0.155041 0.218881 0.218881 0.218881 0.218881 projected
  line L46 (24.2609, 18.5962) -> (23.638, 18.5962) projected
  line L47 (23.638, 18.5962) -> (23.638, 19.3723) projected
  line L48 (23.638, 19.3723) -> (18.7837, 19.3723) projected
  line L49 (18.7837, 19.3723) -> (18.7837, 18.5962) projected
  line L50 (18.7837, 18.5962) -> (18.1609, 18.5962) projected
  line L51 (18.1609, 18.5962) -> (18.1609, 20.9591) projected
  line L52 (18.1609, 20.9591) -> (18.7837, 20.9591) projected
  line L53 (18.7837, 20.9591) -> (18.7837, 20.183) projected
  line L54 (18.7837, 20.183) -> (23.638, 20.183) projected
  line L55 (23.638, 20.183) -> (23.638, 20.9591) projected
  line L56 (23.638, 20.9591) -> (24.2609, 20.9591) projected
  line L57 (24.2609, 20.9591) -> (24.2609, 18.5962) projected
  point P0 (20.8, 30.8)
extrude "돌출2" add sketch "스케치2" along normal blind 6 contours A0 | A1 | A2 | A3 | L0 L3 L2 L1 | L4 L5 L6 L7 L8 L9 L10 L11 | S0 S1 L12 L13 L14 S2 S3 S4 S5 L15 L16 L17 S6 S7 | L18 L19 L20 L21 L22 L23 L24 L25 L26 L27 L28 L29 | S8 S9 L30 L31 S10 S11 S12 S13 S14 S15 S16 S17 L32 L33 S18 S19 S20 S21 S22 S23 | L34 S24 S25 S26 L35 L36 L37 L38 L39 L40 L41 | S27 S28 L42 L43 S29 S30 S31 S32 S33 S34 S35 S36 L44 L45 S37 S38 S39 S40 S41 S42 | L46 L47 L48 L49 L50 L51 L52 L53 L54 L55 L56 L57
sketch "스케치4" plane through (20.8, -30.8, 0) normal (0, 0, -1) x (-1, 0, 0)
  circle A0 centre (0, 0) radius 1.6 projected
  circle A1 centre (0, 61.6) radius 1.6 projected
  circle A2 centre (41.6, 0) radius 1.6 projected
  circle A3 centre (41.6, 61.6) radius 1.6 projected
  line L0 (-4.2, 65.8) -> (-4.2, -4.2) projected
  line L1 (-4.2, -4.2) -> (45.8, -4.2) projected
  line L2 (45.8, -4.2) -> (45.8, 65.8) projected
  line L3 (45.8, 65.8) -> (-4.2, 65.8) projected
  line L4 (17.3391, 15.3584) -> (17.3391, 16.1691) projected
  line L5 (17.3391, 16.1691) -> (22.7174, 16.1691) projected
  line L6 (22.7174, 16.1691) -> (22.7174, 18.2156) projected
  line L7 (22.7174, 18.2156) -> (23.4391, 18.2156) projected
  line L8 (23.4391, 18.2156) -> (23.4391, 13.3118) projected
  line L9 (23.4391, 13.3118) -> (22.7174, 13.3118) projected
  line L10 (22.7174, 13.3118) -> (22.7174, 15.3584) projected
  line L11 (22.7174, 15.3584) -> (17.3391, 15.3584) projected
  spline S0 degree 2 poles (17.7741, 22.4668) (17.4874, 22.7584) (17.2106, 23.5296) (17.2106, 24.0931) knots 0 0 0 1 2 2 2 projected
  spline S1 degree 2 poles (17.2106, 24.0931) (17.2106, 24.6319) (17.4924, 25.4328) (17.7741, 25.7145) knots 0 0 0 1 2 2 2 projected
  spline S2 degree 2 poles (17.7741, 25.7145) (18.0905, 26.0358) (18.9803, 26.2978) (19.6328, 26.2978) knots 0 0 0 1 2 2 2 projected
  line L12 (19.6328, 26.2978) -> (23.4391, 26.2978) projected
  line L13 (23.4391, 26.2978) -> (23.4391, 25.4871) projected
  line L14 (23.4391, 25.4871) -> (19.6328, 25.4871) projected
  spline S3 degree 2 poles (19.6328, 25.4871) (19.2077, 25.4871) (18.6343, 25.3784) (18.4019, 25.2251) knots 0 0 0 1 2 2 2 projected
  spline S4 degree 2 poles (18.4019, 25.2251) (18.1548, 25.062) (17.9027, 24.4985) (17.9027, 24.0931) knots 0 0 0 1 2 2 2 projected
  spline S5 degree 2 poles (17.9027, 24.0931) (17.9027, 23.7125) (18.1548, 23.1193) (18.4019, 22.9562) knots 0 0 0 1 2 2 2 projected
  spline S6 degree 2 poles (18.4019, 22.9562) (18.6343, 22.8029) (19.2028, 22.6942) (19.613, 22.6942) knots 0 0 0 1 2 2 2 projected
  line L15 (19.613, 22.6942) -> (23.4391, 22.6942) projected
  line L16 (23.4391, 22.6942) -> (23.4391, 21.8835) projected
  line L17 (23.4391, 21.8835) -> (19.6328, 21.8835) projected
  spline S7 degree 2 poles (19.6328, 21.8835) (18.9951, 21.8835) (18.0856, 22.1405) (17.7741, 22.4668) knots 0 0 0 1 2 2 2 projected
  line L18 (17.962, 37.4696) -> (17.3391, 37.4696) projected
  line L19 (17.3391, 37.4696) -> (17.3391, 39.8325) projected
  line L20 (17.3391, 39.8325) -> (17.962, 39.8325) projected
  line L21 (17.962, 39.8325) -> (17.962, 39.0564) projected
  line L22 (17.962, 39.0564) -> (22.8163, 39.0564) projected
  line L23 (22.8163, 39.0564) -> (22.8163, 39.8325) projected
  line L24 (22.8163, 39.8325) -> (23.4391, 39.8325) projected
  line L25 (23.4391, 39.8325) -> (23.4391, 37.4696) projected
  line L26 (23.4391, 37.4696) -> (22.8163, 37.4696) projected
  line L27 (22.8163, 37.4696) -> (22.8163, 38.2457) projected
  line L28 (22.8163, 38.2457) -> (17.962, 38.2457) projected
  line L29 (17.962, 38.2457) -> (17.962, 37.4696) projected
  spline S8 degree 2 poles (17.4083, 41.1623) (17.3194, 41.4292) (17.2304, 41.884) (17.2304, 42.2498) knots 0 0 0 1 2 2 2 projected
  spline S9 degree 2 poles (17.2304, 42.2498) (17.2304, 42.843) (17.6308, 43.8464) (18.0312, 44.2123) knots 0 0 0 1 2 2 2 projected
  spline S10 degree 2 poles (18.0312, 44.2123) (18.4267, 44.5781) (19.613, 44.9785) (20.3842, 44.9785) knots 0 0 0 1 2 2 2 projected
  spline S11 degree 2 poles (20.3842, 44.9785) (21.1504, 44.9785) (22.2874, 44.5879) (22.7075, 44.2172) knots 0 0 0 1 2 2 2 projected
  spline S12 degree 2 poles (22.7075, 44.2172) (23.1178, 43.8514) (23.5479, 42.8529) (23.5479, 42.2349) knots 0 0 0 1 2 2 2 projected
  spline S13 degree 2 poles (23.5479, 42.2349) (23.5479, 41.9285) (23.4589, 41.3896) (23.3897, 41.1623) knots 0 0 0 1 2 2 2 projected
  spline S14 degree 2 poles (23.3897, 41.1623) (23.3254, 40.9645) (23.1425, 40.5542) (23.0338, 40.3516) knots 0 0 0 1 2 2 2 projected
  line L30 (23.0338, 40.3516) -> (22.055, 40.3516) projected
  line L31 (22.055, 40.3516) -> (22.055, 40.4158) projected
  spline S15 degree 2 poles (22.055, 40.4158) (22.1539, 40.5246) (22.4307, 40.8607) (22.5642, 41.1029) knots 0 0 0 1 2 2 2 projected
  spline S16 degree 2 poles (22.5642, 41.1029) (22.6927, 41.3353) (22.8558, 41.884) (22.8558, 42.2399) knots 0 0 0 1 2 2 2 projected
  spline S17 degree 2 poles (22.8558, 42.2399) (22.8558, 42.6304) (22.5345, 43.3274) (22.228, 43.5894) knots 0 0 0 1 2 2 2 projected
  spline S18 degree 2 poles (22.228, 43.5894) (21.9166, 43.8464) (20.9724, 44.1332) (20.3842, 44.1332) knots 0 0 0 1 2 2 2 projected
  spline S19 degree 2 poles (20.3842, 44.1332) (19.7564, 44.1332) (18.8518, 43.8316) (18.5404, 43.5696) knots 0 0 0 1 2 2 2 projected
  spline S20 degree 2 poles (18.5404, 43.5696) (18.2388, 43.3126) (17.9323, 42.6255) (17.9323, 42.2399) knots 0 0 0 1 2 2 2 projected
  spline S21 degree 2 poles (17.9323, 42.2399) (17.9323, 41.8889) (18.1053, 41.2908) (18.2339, 41.0584) knots 0 0 0 1 2 2 2 projected
  spline S22 degree 2 poles (18.2339, 41.0584) (18.3624, 40.836) (18.6293, 40.5048) (18.7233, 40.4109) knots 0 0 0 1 2 2 2 projected
  line L32 (18.7233, 40.4109) -> (18.7233, 40.3516) projected
  line L33 (18.7233, 40.3516) -> (17.7544, 40.3516) projected
  spline S23 degree 2 poles (17.7544, 40.3516) (17.6604, 40.5542) (17.4874, 40.9101) (17.4083, 41.1623) knots 0 0 0 1 2 2 2 projected
  line L34 (19.9937, 33.9154) -> (17.3391, 31.7453) projected
  line L35 (17.3391, 31.7453) -> (17.3391, 32.7982) projected
  line L36 (17.3391, 32.7982) -> (19.7663, 34.7261) projected
  line L37 (19.7663, 34.7261) -> (19.7663, 35.6554) projected
  line L38 (19.7663, 35.6554) -> (17.3391, 35.6554) projected
  line L39 (17.3391, 35.6554) -> (17.3391, 36.4661) projected
  line L40 (17.3391, 36.4661) -> (23.4391, 36.4661) projected
  line L41 (23.4391, 36.4661) -> (23.4391, 34.8942) projected
  spline S24 degree 2 poles (23.4391, 34.8942) (23.4391, 34.3702) (23.3254, 33.6633) (23.1178, 33.342) knots 0 0 0 1 2 2 2 projected
  spline S25 degree 2 poles (23.1178, 33.342) (22.9102, 33.0207) (22.2626, 32.6499) (21.7831, 32.6499) knots 0 0 0 1 2 2 2 projected
  spline S26 degree 2 poles (21.7831, 32.6499) (21.1158, 32.6499) (20.2112, 33.3321) (19.9937, 33.9154) knots 0 0 0 1 2 2 2 projected
  spline S27 degree 2 poles (17.4083, 27.7907) (17.3194, 28.0576) (17.2304, 28.5124) (17.2304, 28.8782) knots 0 0 0 1 2 2 2 projected
  spline S28 degree 2 poles (17.2304, 28.8782) (17.2304, 29.4714) (17.6308, 30.4749) (18.0312, 30.8407) knots 0 0 0 1 2 2 2 projected
  spline S29 degree 2 poles (18.0312, 30.8407) (18.4267, 31.2065) (19.613, 31.6069) (20.3842, 31.6069) knots 0 0 0 1 2 2 2 projected
  spline S30 degree 2 poles (20.3842, 31.6069) (21.1504, 31.6069) (22.2874, 31.2164) (22.7075, 30.8456) knots 0 0 0 1 2 2 2 projected
  spline S31 degree 2 poles (22.7075, 30.8456) (23.1178, 30.4798) (23.5479, 29.4813) (23.5479, 28.8634) knots 0 0 0 1 2 2 2 projected
  spline S32 degree 2 poles (23.5479, 28.8634) (23.5479, 28.5569) (23.4589, 28.0181) (23.3897, 27.7907) knots 0 0 0 1 2 2 2 projected
  spline S33 degree 2 poles (23.3897, 27.7907) (23.3254, 27.593) (23.1425, 27.1827) (23.0338, 26.98) knots 0 0 0 1 2 2 2 projected
  line L42 (23.0338, 26.98) -> (22.055, 26.98) projected
  line L43 (22.055, 26.98) -> (22.055, 27.0443) projected
  spline S34 degree 2 poles (22.055, 27.0443) (22.1539, 27.153) (22.4307, 27.4892) (22.5642, 27.7314) knots 0 0 0 1 2 2 2 projected
  spline S35 degree 2 poles (22.5642, 27.7314) (22.6927, 27.9637) (22.8558, 28.5124) (22.8558, 28.8683) knots 0 0 0 1 2 2 2 projected
  spline S36 degree 2 poles (22.8558, 28.8683) (22.8558, 29.2588) (22.5345, 29.9558) (22.228, 30.2178) knots 0 0 0 1 2 2 2 projected
  spline S37 degree 2 poles (22.228, 30.2178) (21.9166, 30.4749) (20.9724, 30.7616) (20.3842, 30.7616) knots 0 0 0 1 2 2 2 projected
  spline S38 degree 2 poles (20.3842, 30.7616) (19.7564, 30.7616) (18.8518, 30.4601) (18.5404, 30.1981) knots 0 0 0 1 2 2 2 projected
  spline S39 degree 2 poles (18.5404, 30.1981) (18.2388, 29.941) (17.9323, 29.2539) (17.9323, 28.8683) knots 0 0 0 1 2 2 2 projected
  spline S40 degree 2 poles (17.9323, 28.8683) (17.9323, 28.5174) (18.1053, 27.9192) (18.2339, 27.6869) knots 0 0 0 1 2 2 2 projected
  spline S41 degree 2 poles (18.2339, 27.6869) (18.3624, 27.4644) (18.6293, 27.1332) (18.7233, 27.0393) knots 0 0 0 1 2 2 2 projected
  line L44 (18.7233, 27.0393) -> (18.7233, 26.98) projected
  line L45 (18.7233, 26.98) -> (17.7544, 26.98) projected
  spline S42 degree 2 poles (17.7544, 26.98) (17.6604, 27.1827) (17.4874, 27.5386) (17.4083, 27.7907) knots 0 0 0 1 2 2 2 projected
  line L46 (17.962, 18.5962) -> (17.3391, 18.5962) projected
  line L47 (17.3391, 18.5962) -> (17.3391, 20.9591) projected
  line L48 (17.3391, 20.9591) -> (17.962, 20.9591) projected
  line L49 (17.962, 20.9591) -> (17.962, 20.183) projected
  line L50 (17.962, 20.183) -> (22.8163, 20.183) projected
  line L51 (22.8163, 20.183) -> (22.8163, 20.9591) projected
  line L52 (22.8163, 20.9591) -> (23.4391, 20.9591) projected
  line L53 (23.4391, 20.9591) -> (23.4391, 18.5962) projected
  line L54 (23.4391, 18.5962) -> (22.8163, 18.5962) projected
  line L55 (22.8163, 18.5962) -> (22.8163, 19.3723) projected
  line L56 (22.8163, 19.3723) -> (17.962, 19.3723) projected
  line L57 (17.962, 19.3723) -> (17.962, 18.5962) projected
  circle A4 centre (41.6, 0) radius 1.4
  circle A5 centre (0, 0) radius 1.4
  circle A6 centre (0, 61.6) radius 1.4
  circle A7 centre (41.6, 61.6) radius 1.4
  point P0 (20.8, 30.8)
  dimension "d6" = 0.2
  dimension "d7" = 0.2
  dimension "d8" = 0.2
  dimension "d9" = 0.2
extrude "돌출4" add sketch "스케치4" along normal blind 6 contours A4 | A5 | A6 | A7
properties part number "head_box"
